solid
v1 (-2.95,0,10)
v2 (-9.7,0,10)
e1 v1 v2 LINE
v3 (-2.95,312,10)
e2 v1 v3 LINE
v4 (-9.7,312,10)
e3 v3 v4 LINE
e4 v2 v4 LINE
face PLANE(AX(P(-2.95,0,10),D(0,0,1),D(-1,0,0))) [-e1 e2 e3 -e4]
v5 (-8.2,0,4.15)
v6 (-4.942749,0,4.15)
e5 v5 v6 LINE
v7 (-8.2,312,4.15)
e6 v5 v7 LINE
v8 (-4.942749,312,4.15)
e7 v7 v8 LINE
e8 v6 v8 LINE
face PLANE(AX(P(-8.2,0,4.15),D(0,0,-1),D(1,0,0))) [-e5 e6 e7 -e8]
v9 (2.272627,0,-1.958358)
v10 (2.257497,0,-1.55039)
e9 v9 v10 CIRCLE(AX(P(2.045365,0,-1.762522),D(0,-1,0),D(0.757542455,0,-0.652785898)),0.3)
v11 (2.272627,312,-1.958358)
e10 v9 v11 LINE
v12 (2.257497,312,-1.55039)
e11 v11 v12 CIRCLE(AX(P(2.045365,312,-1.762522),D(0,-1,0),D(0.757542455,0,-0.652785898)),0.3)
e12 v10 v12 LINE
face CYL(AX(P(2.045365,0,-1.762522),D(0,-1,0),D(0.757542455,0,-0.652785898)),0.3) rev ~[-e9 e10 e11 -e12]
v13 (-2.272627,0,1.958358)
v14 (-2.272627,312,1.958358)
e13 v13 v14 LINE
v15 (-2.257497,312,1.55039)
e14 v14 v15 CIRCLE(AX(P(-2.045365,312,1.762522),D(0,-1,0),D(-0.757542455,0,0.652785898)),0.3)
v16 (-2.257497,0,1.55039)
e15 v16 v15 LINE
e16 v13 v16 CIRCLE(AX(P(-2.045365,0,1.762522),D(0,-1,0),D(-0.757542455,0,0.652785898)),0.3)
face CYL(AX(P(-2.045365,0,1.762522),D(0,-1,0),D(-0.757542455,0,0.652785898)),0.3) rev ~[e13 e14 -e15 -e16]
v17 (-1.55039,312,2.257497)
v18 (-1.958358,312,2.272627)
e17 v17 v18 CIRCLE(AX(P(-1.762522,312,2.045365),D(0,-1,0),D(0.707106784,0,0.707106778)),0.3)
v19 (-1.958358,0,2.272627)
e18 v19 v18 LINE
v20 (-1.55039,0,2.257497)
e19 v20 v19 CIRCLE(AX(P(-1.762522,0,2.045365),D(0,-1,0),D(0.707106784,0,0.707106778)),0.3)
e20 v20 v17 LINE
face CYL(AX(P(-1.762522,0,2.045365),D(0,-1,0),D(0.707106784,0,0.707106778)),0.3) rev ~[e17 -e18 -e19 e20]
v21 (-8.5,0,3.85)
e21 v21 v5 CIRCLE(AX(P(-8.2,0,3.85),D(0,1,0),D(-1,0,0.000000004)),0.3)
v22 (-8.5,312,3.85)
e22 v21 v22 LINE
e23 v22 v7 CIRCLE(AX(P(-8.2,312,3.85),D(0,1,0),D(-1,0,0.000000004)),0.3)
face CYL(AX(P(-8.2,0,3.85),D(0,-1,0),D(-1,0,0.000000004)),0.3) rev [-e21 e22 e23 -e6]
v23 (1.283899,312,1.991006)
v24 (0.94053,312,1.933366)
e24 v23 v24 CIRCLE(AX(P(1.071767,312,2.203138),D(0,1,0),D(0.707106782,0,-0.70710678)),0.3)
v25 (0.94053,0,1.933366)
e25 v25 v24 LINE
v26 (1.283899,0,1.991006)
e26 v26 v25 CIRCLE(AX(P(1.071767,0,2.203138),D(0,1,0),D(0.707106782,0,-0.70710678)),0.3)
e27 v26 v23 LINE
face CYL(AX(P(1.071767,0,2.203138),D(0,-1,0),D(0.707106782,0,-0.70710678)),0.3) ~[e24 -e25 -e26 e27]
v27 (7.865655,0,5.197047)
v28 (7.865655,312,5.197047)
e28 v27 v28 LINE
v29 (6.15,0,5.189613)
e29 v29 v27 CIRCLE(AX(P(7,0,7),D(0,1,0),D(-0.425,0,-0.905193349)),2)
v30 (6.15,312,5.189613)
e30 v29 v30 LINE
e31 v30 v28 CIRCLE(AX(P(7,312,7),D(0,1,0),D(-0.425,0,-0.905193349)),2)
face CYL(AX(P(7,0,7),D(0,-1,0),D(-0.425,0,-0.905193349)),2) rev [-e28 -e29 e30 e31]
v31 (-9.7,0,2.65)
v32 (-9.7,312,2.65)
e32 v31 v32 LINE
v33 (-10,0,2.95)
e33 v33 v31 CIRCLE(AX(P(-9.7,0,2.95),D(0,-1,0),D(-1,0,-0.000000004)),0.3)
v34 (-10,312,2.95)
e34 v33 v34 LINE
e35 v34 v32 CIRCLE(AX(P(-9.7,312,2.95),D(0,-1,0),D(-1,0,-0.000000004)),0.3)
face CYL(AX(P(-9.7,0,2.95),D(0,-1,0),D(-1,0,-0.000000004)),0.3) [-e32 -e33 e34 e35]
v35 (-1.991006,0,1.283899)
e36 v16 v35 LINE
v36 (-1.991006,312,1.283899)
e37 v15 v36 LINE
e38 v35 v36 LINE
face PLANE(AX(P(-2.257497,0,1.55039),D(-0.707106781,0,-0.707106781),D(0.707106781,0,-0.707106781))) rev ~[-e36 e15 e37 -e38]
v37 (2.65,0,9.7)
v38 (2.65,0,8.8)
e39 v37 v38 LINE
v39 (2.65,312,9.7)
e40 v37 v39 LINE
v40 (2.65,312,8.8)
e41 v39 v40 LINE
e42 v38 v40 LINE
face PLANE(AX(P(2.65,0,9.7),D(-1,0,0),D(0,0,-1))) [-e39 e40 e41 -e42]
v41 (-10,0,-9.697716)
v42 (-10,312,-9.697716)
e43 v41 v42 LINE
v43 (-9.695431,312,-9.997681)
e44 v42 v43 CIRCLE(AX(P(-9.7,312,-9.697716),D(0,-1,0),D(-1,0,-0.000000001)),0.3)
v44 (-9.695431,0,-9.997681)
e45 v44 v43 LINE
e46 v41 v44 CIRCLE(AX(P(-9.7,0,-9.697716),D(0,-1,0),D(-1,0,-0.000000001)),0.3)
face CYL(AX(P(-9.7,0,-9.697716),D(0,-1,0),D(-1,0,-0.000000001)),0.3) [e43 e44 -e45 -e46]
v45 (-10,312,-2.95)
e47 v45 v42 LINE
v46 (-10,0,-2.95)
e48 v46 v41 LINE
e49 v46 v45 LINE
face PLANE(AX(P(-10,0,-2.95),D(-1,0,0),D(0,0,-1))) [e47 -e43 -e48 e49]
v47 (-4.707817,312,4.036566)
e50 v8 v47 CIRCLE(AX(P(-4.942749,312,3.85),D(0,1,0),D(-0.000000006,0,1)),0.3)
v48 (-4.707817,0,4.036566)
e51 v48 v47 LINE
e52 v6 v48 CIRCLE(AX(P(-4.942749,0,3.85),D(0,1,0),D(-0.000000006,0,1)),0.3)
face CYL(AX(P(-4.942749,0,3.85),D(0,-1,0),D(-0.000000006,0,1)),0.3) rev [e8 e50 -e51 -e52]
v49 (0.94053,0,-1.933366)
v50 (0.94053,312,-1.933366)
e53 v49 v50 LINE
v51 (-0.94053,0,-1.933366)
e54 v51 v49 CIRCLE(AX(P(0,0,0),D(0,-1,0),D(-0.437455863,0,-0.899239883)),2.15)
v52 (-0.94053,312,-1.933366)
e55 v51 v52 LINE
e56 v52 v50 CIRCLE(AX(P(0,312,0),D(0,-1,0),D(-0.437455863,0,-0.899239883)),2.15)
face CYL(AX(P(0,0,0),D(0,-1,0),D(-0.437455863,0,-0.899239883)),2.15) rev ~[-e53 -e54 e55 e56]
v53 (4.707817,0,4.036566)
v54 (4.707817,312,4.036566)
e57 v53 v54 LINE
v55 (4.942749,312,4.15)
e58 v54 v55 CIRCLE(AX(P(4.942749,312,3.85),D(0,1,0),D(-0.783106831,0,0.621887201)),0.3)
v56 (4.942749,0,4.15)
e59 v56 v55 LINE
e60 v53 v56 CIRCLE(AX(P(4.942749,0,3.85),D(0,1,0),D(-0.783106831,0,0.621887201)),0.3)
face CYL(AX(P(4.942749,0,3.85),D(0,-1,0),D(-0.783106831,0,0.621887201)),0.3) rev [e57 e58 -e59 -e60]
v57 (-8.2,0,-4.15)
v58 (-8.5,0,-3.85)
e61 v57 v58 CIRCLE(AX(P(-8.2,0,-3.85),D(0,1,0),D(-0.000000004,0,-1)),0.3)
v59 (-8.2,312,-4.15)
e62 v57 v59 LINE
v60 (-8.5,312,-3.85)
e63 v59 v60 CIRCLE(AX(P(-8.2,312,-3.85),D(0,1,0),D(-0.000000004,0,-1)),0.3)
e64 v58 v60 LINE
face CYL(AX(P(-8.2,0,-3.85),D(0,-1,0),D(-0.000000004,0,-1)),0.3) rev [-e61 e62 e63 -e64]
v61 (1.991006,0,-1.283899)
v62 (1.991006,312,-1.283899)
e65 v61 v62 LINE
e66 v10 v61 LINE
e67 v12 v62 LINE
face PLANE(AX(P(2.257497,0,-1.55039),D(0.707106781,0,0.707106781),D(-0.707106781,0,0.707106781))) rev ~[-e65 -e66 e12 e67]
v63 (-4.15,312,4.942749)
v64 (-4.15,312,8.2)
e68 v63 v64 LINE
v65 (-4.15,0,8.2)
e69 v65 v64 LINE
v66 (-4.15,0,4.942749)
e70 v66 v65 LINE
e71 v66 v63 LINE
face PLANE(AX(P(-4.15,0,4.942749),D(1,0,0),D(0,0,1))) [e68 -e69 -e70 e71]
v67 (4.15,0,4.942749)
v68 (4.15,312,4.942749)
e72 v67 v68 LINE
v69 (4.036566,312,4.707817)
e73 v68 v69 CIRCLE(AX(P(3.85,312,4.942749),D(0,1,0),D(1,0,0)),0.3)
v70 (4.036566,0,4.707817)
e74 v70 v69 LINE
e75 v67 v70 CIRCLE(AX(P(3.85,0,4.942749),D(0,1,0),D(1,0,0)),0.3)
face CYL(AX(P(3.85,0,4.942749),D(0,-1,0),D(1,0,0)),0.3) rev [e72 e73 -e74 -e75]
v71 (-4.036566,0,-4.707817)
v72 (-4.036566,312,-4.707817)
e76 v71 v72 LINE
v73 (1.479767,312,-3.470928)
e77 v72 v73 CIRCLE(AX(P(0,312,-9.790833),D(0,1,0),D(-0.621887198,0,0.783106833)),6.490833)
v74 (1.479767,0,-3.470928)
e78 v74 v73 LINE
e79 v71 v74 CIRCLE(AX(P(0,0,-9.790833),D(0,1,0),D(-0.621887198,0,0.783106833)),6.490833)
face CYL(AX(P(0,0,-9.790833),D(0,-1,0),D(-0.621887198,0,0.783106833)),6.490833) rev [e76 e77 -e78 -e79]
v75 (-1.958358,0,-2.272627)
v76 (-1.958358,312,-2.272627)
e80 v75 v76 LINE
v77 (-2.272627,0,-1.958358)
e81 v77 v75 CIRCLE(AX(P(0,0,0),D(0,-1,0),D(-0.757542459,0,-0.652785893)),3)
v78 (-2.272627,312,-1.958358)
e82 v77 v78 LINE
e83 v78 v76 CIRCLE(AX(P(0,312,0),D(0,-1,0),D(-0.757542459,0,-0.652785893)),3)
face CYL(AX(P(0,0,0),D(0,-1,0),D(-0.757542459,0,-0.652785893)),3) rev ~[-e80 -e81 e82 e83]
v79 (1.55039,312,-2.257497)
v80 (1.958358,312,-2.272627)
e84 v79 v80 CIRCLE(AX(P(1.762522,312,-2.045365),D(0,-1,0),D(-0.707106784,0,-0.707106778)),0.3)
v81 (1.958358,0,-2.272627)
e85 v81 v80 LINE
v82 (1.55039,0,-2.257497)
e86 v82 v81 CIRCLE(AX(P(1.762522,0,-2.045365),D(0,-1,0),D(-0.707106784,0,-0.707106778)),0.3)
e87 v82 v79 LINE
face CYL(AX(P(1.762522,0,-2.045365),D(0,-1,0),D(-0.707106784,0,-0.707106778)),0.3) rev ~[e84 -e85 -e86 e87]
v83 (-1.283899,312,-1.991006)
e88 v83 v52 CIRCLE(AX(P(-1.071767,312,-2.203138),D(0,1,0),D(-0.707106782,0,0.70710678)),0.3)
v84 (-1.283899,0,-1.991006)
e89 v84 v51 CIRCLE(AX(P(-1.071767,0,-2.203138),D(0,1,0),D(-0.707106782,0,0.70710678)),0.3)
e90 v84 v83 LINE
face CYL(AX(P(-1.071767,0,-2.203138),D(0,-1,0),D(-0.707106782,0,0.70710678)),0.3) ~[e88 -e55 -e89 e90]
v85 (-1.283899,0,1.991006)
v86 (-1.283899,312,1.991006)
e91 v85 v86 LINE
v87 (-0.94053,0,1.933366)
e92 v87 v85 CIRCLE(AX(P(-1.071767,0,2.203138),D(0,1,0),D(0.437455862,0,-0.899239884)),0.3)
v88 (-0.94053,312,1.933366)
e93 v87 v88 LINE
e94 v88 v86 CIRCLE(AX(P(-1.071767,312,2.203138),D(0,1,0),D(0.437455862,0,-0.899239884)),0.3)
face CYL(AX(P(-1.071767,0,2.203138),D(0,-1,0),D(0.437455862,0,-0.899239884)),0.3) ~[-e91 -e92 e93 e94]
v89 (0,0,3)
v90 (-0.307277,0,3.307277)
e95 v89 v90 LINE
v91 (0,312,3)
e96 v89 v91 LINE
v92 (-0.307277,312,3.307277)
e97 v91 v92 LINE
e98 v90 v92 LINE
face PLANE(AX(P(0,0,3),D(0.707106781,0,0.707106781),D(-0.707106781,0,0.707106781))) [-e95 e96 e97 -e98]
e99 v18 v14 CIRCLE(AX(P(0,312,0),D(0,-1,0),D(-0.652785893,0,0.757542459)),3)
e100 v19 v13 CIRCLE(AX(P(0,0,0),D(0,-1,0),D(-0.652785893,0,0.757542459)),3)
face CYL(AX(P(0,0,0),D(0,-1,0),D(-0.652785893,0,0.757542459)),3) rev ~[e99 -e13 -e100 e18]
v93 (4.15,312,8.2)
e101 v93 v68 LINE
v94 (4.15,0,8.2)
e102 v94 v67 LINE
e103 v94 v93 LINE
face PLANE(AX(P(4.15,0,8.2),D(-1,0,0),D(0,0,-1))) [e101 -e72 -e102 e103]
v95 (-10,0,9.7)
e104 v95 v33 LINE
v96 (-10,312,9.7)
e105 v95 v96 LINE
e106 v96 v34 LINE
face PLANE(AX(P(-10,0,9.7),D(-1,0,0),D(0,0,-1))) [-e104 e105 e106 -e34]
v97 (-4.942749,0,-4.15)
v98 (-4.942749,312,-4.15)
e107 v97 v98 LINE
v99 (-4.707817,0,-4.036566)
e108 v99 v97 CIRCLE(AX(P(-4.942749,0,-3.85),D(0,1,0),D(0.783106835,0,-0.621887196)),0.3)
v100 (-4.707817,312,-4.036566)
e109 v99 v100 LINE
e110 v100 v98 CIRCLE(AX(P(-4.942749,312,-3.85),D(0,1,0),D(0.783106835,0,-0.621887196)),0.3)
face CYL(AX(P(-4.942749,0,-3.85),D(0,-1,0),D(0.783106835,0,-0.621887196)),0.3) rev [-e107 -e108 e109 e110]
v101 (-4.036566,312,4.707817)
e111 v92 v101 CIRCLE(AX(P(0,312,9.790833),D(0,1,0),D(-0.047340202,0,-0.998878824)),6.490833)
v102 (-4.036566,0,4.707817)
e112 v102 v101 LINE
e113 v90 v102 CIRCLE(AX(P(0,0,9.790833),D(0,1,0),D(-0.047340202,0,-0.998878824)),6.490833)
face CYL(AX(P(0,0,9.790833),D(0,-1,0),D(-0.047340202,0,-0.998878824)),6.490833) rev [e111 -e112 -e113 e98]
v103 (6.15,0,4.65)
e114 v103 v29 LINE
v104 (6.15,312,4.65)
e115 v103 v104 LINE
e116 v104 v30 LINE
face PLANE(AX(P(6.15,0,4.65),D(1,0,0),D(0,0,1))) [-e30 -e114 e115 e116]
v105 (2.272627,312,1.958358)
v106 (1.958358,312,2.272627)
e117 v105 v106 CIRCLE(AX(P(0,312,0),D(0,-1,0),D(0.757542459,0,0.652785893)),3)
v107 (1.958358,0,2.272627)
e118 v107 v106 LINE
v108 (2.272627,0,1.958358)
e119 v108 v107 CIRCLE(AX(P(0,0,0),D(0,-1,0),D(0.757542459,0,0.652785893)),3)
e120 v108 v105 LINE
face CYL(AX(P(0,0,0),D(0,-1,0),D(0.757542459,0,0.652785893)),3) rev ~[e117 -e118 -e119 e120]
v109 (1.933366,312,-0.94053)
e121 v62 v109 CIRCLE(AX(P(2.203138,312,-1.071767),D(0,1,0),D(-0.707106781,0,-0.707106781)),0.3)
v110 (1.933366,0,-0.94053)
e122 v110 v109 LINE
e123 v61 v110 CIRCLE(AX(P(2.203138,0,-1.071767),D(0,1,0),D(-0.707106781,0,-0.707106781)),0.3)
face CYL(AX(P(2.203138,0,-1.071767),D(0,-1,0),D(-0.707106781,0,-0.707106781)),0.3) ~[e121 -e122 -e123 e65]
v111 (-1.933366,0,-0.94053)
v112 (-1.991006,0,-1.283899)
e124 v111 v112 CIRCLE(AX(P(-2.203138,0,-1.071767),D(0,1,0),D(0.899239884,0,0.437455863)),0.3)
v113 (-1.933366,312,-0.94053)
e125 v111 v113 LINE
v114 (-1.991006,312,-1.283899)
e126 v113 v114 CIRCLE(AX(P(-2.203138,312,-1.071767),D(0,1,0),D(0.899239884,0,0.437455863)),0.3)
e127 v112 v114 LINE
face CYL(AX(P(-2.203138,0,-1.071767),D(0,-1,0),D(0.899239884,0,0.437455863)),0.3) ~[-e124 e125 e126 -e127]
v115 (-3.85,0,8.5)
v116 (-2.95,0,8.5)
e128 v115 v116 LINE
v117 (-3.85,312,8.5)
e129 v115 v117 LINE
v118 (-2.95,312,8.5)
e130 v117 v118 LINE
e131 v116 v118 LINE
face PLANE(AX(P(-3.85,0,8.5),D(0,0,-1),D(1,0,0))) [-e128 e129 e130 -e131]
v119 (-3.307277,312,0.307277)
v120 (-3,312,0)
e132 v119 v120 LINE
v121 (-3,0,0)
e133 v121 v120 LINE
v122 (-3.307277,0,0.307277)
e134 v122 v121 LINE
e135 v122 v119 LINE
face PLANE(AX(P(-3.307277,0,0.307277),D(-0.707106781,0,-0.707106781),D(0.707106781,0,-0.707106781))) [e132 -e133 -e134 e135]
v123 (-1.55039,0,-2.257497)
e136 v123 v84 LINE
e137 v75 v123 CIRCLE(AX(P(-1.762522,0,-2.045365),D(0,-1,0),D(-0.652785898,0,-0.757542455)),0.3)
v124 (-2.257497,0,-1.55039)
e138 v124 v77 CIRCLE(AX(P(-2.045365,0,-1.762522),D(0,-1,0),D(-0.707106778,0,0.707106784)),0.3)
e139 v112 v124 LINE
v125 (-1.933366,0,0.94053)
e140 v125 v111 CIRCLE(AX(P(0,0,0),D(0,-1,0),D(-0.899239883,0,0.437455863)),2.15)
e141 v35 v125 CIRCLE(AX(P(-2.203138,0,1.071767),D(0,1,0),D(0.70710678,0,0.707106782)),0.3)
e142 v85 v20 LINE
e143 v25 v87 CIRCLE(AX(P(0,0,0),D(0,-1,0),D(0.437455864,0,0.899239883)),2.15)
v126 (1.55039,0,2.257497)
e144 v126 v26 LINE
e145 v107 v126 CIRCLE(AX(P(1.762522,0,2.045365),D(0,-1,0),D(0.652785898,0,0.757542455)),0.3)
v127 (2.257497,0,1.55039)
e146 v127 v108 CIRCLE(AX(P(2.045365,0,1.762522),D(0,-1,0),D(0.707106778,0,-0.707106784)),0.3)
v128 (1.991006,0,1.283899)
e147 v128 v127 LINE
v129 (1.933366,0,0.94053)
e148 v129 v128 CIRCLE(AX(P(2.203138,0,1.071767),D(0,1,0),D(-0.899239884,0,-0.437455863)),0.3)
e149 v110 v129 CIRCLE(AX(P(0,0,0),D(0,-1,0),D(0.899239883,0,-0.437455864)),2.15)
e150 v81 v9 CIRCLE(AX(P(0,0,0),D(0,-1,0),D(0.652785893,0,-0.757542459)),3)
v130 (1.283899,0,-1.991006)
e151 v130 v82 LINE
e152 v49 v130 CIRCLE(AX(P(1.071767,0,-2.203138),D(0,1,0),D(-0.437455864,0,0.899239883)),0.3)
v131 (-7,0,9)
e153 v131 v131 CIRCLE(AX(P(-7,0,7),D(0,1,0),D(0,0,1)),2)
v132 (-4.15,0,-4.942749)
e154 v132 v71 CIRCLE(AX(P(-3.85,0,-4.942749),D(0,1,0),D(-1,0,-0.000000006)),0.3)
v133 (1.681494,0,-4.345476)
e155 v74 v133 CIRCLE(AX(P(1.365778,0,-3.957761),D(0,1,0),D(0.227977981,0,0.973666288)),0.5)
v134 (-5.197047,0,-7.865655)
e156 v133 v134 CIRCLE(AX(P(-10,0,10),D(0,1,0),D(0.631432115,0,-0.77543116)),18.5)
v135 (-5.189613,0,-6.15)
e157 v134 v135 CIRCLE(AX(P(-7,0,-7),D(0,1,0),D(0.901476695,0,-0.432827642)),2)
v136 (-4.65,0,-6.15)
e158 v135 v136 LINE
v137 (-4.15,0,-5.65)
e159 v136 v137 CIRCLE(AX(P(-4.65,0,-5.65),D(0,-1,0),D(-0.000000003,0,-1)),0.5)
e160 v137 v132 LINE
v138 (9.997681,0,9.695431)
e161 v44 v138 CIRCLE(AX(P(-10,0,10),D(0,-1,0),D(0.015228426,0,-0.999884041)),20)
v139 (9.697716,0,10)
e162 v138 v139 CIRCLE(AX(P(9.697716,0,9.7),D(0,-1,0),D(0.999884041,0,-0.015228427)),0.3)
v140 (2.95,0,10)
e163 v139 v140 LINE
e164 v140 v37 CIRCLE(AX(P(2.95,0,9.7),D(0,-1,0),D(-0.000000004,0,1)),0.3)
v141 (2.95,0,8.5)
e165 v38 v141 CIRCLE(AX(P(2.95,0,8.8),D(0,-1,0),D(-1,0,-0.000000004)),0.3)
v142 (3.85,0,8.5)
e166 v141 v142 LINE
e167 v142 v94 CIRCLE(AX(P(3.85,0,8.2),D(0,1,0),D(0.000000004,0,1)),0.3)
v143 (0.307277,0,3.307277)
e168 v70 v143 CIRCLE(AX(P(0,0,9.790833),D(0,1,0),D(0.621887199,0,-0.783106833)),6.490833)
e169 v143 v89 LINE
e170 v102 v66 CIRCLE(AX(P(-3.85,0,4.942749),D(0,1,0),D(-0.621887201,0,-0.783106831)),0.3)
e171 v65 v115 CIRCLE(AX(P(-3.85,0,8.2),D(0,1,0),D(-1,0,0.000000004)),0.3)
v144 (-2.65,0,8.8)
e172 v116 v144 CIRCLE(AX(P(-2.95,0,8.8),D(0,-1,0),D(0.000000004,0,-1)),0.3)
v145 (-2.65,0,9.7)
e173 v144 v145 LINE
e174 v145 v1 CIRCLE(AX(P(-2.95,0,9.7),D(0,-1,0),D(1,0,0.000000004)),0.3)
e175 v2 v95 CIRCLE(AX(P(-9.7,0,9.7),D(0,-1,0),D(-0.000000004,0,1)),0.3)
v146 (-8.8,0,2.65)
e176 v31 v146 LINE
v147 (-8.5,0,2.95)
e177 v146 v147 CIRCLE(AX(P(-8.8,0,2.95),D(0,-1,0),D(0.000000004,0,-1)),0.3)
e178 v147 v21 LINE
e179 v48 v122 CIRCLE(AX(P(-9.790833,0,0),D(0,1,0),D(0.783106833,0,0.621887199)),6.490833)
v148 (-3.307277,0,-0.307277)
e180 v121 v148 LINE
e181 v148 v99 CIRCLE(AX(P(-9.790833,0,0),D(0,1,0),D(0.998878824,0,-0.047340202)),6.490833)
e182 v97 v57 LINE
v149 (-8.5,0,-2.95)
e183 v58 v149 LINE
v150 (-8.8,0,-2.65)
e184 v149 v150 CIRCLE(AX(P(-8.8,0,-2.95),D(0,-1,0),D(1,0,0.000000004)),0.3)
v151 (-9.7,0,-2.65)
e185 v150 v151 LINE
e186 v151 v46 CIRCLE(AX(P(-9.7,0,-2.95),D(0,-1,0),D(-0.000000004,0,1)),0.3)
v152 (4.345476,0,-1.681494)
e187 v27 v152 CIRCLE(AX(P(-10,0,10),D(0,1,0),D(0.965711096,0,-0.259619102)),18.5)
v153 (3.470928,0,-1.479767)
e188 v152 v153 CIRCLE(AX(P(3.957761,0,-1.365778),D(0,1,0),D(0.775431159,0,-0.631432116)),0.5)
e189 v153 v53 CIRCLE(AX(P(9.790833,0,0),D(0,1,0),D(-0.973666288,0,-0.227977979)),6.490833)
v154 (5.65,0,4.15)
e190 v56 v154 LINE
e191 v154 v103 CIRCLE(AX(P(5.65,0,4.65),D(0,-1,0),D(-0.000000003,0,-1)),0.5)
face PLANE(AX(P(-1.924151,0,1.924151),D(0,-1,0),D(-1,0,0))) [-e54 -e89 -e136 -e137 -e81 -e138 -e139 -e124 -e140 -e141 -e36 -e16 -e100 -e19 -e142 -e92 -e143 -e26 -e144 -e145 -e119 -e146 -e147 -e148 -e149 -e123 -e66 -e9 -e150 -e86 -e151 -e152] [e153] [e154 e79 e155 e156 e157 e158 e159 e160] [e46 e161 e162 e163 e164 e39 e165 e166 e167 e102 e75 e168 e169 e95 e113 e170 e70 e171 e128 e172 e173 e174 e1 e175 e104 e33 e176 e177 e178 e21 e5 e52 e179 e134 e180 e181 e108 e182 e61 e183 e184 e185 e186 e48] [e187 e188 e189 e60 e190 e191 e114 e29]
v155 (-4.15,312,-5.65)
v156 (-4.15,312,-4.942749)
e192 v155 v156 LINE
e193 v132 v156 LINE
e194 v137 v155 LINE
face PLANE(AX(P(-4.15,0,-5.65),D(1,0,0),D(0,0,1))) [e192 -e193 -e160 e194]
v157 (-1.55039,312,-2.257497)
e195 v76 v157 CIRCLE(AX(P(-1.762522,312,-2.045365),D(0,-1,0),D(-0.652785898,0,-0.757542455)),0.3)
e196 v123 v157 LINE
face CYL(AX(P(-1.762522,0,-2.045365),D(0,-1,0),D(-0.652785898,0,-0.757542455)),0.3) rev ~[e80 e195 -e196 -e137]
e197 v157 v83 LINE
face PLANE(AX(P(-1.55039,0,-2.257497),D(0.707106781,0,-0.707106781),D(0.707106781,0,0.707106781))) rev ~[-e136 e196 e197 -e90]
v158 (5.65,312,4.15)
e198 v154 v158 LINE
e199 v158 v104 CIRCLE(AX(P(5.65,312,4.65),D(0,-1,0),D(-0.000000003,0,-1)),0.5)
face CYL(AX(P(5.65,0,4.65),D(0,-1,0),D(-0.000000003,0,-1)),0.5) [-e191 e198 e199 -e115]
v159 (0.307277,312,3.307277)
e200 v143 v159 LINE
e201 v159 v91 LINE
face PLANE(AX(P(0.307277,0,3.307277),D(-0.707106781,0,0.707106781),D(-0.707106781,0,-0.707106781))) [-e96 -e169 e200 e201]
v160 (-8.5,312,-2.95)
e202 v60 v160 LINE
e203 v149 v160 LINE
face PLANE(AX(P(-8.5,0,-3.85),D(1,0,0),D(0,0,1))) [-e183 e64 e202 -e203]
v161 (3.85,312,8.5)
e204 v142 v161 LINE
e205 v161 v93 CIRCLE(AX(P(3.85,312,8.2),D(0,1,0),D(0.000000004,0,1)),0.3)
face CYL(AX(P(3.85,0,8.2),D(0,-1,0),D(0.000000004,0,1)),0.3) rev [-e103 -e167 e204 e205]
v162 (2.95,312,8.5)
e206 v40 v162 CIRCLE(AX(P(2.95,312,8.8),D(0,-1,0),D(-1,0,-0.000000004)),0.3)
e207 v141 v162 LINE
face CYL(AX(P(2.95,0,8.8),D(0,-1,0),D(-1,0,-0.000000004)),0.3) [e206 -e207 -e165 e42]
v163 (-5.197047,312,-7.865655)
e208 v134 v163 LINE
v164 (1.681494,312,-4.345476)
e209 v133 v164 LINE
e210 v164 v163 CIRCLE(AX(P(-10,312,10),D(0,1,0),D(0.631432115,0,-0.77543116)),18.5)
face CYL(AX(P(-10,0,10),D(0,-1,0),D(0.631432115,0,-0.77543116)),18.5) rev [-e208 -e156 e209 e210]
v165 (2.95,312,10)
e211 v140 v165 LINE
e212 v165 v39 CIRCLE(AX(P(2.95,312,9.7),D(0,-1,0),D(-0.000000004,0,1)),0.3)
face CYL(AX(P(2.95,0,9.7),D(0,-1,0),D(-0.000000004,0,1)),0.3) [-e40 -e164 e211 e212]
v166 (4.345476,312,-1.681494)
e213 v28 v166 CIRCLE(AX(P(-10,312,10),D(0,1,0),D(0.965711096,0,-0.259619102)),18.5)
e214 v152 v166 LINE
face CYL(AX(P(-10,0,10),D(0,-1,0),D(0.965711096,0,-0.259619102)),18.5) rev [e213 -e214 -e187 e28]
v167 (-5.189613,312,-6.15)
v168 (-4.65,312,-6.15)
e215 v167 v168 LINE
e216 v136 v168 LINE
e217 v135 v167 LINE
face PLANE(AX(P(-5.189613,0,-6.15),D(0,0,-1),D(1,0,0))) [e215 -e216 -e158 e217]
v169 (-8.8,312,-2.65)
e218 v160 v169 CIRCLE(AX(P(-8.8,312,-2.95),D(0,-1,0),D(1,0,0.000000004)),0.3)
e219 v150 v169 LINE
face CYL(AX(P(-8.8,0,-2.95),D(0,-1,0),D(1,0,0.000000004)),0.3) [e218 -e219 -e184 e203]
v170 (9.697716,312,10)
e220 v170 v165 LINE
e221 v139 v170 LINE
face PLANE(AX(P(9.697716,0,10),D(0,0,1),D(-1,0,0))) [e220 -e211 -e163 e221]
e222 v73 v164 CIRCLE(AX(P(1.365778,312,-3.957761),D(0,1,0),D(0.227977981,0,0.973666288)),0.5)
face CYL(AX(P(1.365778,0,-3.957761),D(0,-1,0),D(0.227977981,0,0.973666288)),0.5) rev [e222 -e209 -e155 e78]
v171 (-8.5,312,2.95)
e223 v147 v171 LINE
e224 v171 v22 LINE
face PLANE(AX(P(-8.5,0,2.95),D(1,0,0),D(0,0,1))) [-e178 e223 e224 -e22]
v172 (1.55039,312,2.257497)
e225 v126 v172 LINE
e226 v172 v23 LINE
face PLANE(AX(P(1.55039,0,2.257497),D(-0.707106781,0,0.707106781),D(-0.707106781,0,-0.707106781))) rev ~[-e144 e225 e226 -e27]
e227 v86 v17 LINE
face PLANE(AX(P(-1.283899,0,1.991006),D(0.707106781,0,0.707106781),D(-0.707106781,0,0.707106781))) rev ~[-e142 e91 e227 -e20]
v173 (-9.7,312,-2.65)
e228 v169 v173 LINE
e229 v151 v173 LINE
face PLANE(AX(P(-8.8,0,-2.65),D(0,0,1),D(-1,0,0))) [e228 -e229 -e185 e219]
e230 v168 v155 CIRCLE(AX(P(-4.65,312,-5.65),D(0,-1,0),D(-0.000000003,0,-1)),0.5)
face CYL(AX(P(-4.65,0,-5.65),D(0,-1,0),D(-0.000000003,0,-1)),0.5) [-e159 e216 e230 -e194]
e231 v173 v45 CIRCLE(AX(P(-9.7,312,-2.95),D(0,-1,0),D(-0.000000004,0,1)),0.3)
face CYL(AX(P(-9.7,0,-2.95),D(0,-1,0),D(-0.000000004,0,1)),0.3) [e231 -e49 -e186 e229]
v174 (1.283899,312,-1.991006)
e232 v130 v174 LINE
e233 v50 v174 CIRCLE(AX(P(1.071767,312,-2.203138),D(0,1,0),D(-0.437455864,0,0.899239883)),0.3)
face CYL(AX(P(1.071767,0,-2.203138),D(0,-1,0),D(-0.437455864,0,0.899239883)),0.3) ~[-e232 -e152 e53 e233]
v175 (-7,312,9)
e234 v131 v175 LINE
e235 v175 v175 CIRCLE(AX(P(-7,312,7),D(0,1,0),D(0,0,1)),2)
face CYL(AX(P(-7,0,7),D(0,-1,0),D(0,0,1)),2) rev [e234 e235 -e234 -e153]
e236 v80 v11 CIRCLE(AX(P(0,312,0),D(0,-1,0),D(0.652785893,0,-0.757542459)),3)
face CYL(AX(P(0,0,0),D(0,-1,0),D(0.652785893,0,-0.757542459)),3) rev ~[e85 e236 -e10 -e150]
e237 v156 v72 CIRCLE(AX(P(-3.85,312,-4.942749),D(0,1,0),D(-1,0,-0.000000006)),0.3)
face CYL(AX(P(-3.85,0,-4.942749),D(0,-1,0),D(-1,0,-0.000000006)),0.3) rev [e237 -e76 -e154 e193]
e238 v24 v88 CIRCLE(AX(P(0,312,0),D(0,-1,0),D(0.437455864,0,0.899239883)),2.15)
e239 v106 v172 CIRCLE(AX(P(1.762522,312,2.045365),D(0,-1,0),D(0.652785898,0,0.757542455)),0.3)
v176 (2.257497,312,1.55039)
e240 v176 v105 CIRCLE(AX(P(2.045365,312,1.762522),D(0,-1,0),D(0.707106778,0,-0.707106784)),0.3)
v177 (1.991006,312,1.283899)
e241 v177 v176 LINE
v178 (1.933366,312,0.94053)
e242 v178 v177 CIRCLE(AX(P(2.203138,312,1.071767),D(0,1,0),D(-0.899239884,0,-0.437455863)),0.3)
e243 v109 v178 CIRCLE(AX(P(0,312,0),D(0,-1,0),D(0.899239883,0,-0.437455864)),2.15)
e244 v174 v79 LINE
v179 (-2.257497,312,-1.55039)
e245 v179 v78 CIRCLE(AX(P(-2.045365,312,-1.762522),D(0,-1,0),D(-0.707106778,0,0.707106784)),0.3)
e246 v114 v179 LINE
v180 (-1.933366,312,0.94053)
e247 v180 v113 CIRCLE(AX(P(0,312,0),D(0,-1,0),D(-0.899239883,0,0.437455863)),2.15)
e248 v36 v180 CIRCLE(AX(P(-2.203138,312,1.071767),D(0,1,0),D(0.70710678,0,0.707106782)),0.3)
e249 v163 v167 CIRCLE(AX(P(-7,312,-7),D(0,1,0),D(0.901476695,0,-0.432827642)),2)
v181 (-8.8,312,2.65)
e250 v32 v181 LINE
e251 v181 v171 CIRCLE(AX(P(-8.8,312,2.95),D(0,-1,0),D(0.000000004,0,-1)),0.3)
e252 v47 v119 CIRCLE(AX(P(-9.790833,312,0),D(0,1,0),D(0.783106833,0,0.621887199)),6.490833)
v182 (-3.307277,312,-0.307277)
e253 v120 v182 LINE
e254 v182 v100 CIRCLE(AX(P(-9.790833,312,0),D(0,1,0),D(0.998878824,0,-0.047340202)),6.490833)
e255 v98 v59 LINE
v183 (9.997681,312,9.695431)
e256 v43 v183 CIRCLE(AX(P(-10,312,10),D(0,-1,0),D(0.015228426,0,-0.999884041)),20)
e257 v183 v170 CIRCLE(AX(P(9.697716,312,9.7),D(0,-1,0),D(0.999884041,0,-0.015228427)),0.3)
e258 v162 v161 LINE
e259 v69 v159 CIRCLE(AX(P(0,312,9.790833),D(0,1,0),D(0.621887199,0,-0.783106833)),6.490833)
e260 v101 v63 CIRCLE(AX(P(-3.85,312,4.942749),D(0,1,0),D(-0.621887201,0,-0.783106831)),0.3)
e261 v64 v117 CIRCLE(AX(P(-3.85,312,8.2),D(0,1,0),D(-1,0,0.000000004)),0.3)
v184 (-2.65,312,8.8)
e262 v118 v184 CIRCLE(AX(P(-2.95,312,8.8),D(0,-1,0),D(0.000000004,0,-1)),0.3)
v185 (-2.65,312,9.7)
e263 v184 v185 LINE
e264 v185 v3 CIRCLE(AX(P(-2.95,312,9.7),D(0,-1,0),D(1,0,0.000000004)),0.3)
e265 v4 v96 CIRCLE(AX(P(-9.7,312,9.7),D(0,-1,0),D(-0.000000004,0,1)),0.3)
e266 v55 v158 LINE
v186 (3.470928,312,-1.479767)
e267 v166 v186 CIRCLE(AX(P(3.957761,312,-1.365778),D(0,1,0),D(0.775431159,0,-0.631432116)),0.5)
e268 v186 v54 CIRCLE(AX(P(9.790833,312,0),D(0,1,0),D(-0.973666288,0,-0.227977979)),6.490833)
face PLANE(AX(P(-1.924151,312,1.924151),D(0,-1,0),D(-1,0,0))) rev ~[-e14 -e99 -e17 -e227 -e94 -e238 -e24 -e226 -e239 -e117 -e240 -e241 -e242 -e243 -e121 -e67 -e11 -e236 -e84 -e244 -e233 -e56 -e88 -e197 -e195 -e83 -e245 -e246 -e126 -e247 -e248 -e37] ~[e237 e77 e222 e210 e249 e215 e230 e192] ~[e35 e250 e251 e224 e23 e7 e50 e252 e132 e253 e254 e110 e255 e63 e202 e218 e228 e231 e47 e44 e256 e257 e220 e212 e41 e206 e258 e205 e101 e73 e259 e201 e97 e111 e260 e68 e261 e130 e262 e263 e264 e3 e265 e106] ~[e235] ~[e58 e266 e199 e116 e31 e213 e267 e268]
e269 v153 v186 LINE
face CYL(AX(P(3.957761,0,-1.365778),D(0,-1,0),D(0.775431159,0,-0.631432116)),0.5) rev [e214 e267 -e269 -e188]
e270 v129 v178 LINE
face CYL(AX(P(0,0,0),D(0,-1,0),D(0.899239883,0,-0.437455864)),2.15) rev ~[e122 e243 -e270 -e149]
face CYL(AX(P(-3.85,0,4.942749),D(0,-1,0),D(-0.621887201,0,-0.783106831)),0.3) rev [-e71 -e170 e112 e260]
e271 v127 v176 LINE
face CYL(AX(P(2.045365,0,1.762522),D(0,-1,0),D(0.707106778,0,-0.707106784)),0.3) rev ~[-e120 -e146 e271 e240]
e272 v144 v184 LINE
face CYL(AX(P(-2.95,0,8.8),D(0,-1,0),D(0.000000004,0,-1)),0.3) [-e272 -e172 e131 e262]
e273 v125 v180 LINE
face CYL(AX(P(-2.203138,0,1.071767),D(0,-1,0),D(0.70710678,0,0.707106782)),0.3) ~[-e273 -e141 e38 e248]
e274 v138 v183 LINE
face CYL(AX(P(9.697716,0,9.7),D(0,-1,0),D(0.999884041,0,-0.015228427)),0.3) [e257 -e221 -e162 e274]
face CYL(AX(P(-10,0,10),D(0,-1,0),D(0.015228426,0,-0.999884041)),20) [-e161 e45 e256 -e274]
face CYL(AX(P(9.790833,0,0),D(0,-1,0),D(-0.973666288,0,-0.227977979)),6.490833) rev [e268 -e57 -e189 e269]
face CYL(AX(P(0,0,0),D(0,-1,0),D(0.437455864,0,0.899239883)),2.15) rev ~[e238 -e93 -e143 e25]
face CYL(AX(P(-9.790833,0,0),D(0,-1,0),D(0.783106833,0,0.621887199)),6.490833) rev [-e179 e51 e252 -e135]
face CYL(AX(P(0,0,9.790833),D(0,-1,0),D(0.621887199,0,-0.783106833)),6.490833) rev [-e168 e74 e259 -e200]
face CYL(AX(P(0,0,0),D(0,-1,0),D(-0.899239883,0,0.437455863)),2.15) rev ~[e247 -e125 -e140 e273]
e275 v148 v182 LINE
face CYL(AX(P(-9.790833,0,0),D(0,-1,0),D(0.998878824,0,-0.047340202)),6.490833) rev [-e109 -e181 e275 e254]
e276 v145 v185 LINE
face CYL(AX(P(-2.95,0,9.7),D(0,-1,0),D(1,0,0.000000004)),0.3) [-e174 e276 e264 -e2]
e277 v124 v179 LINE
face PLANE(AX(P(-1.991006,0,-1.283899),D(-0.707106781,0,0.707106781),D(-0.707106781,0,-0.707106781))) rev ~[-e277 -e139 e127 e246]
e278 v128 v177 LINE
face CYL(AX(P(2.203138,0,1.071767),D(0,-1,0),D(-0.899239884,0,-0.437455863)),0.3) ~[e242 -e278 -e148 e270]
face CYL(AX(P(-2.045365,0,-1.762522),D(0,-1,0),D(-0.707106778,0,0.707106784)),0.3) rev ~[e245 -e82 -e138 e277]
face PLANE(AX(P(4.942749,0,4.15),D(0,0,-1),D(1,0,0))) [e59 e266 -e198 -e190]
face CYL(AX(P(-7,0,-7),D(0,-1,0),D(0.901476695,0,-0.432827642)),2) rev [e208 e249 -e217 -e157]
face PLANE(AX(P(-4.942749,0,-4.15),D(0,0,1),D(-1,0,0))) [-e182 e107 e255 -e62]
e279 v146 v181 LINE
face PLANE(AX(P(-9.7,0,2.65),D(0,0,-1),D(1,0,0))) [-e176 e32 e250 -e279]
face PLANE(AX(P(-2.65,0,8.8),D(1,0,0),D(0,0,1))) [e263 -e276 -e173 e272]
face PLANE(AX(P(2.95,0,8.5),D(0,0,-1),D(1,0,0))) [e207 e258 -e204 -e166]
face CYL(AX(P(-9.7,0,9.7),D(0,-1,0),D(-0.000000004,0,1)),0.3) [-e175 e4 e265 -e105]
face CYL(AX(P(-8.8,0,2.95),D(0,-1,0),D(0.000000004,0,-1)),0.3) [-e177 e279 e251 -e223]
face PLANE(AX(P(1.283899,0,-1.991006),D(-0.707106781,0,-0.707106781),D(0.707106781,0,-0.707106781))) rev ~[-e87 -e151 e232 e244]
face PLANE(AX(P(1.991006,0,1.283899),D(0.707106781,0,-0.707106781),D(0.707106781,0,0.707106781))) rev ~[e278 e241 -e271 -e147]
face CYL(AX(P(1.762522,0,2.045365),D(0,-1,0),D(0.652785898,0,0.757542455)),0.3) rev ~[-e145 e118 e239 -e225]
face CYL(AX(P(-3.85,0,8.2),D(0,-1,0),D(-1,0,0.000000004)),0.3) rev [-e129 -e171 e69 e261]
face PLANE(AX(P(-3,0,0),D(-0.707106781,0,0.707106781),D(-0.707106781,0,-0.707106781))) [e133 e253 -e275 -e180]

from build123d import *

# Parameters (mm, degrees)
SKETCH_1_R      = 2
EXTRUDE_1_DEPTH = 312


with BuildPart() as part:
    # 스케치1 → 보스-돌출1 (new body)
    with BuildSketch(Plane(origin=(0, 0, 0), x_dir=(1, 0, 0), z_dir=(0, 1, 0))):
        with BuildLine():
            Line((-10, 9.697715604), (-10, 2.95))
            ThreePointArc((-10, 2.95), (-9.912132034, 2.737867966), (-9.7, 2.65))
            Line((-9.7, 2.65), (-8.8, 2.65))
            ThreePointArc((-8.8, 2.65), (-8.587867966, 2.737867966), (-8.5, 2.95))
            Line((-8.5, 2.95), (-8.5, 3.85))
            ThreePointArc((-8.5, 3.85), (-8.412132034, 4.062132034), (-8.2, 4.15))
            Line((-8.2, 4.15), (-4.942749448, 4.15))
            ThreePointArc((-4.942749448, 4.15), (-4.812307598, 4.120157221), (-4.707817398, 4.03656616))
            ThreePointArc((-4.707817398, 4.03656616), (-3.714379176, 2.282021525), (-3.307277366, 0.307277366))
            Line((-3.307277366, 0.307277366), (-3, 0))
            Line((-3, 0), (-3.307277366, -0.307277366))
            ThreePointArc((-3.307277366, -0.307277366), (-3.714379176, -2.282021525), (-4.707817398, -4.03656616))
            ThreePointArc((-4.707817398, -4.03656616), (-4.812307598, -4.120157221), (-4.942749448, -4.15))
            Line((-4.942749448, -4.15), (-8.2, -4.15))
            ThreePointArc((-8.2, -4.15), (-8.412132034, -4.062132034), (-8.5, -3.85))
            Line((-8.5, -3.85), (-8.5, -2.95))
            ThreePointArc((-8.5, -2.95), (-8.587867966, -2.737867966), (-8.8, -2.65))
            Line((-8.8, -2.65), (-9.7, -2.65))
            ThreePointArc((-9.7, -2.65), (-9.912132034, -2.737867966), (-10, -2.95))
            Line((-10, -2.95), (-10, -9.7))
            ThreePointArc((-10, -9.7), (-9.912132034, -9.912132034), (-9.7, -10))
            Line((-9.7, -10), (-2.95, -10))
            ThreePointArc((-2.95, -10), (-2.737867966, -9.912132034), (-2.65, -9.7))
            Line((-2.65, -9.7), (-2.65, -8.8))
            ThreePointArc((-2.65, -8.8), (-2.737867966, -8.587867966), (-2.95, -8.5))
            Line((-2.95, -8.5), (-3.85, -8.5))
            ThreePointArc((-3.85, -8.5), (-4.062132034, -8.412132034), (-4.15, -8.2))
            Line((-4.15, -8.2), (-4.15, -4.942749448))
            ThreePointArc((-4.15, -4.942749448), (-4.120157221, -4.812307599), (-4.03656616, -4.707817398))
            ThreePointArc((-4.03656616, -4.707817398), (-2.282021525, -3.714379176), (-0.307277366, -3.307277366))
            Line((-0.307277366, -3.307277366), (0, -3))
            Line((0, -3), (0.307277366, -3.307277366))
            ThreePointArc((0.307277366, -3.307277366), (2.282021525, -3.714379176), (4.03656616, -4.707817398))
            ThreePointArc((4.03656616, -4.707817398), (4.120157221, -4.812307599), (4.15, -4.942749448))
            Line((4.15, -4.942749448), (4.15, -8.2))
            ThreePointArc((4.15, -8.2), (4.062132034, -8.412132034), (3.85, -8.5))
            Line((3.85, -8.5), (2.95, -8.5))
            ThreePointArc((2.95, -8.5), (2.737867966, -8.587867966), (2.65, -8.8))
            Line((2.65, -8.8), (2.65, -9.7))
            ThreePointArc((2.65, -9.7), (2.737867966, -9.912132034), (2.95, -10))
            Line((2.95, -10), (9.697715604, -10))
            ThreePointArc((9.697715604, -10), (9.911456754, -9.910510619), (9.997680816, -9.695431472))
            ThreePointArc((9.997680816, -9.695431472), (4.142135624, 4.142135624), (-9.695431472, 9.997680816))
            ThreePointArc((-9.695431472, 9.997680816), (-9.910510619, 9.911456754), (-10, 9.697715604))
        make_face()
        with Locations((-7, -7)):
            Circle(SKETCH_1_R, mode=Mode.SUBTRACT)
        with BuildLine():
            Line((6.15, -5.189613301), (6.15, -4.65))
            ThreePointArc((6.15, -4.65), (6.003553391, -4.296446609), (5.65, -4.15))
            Line((5.65, -4.15), (4.942749448, -4.15))
            ThreePointArc((4.942749448, -4.15), (4.812307599, -4.120157221), (4.707817398, -4.03656616))
            ThreePointArc((4.707817398, -4.03656616), (3.457261044, -1.420133589), (3.470927733, 1.479767066))
            ThreePointArc((3.470927733, 1.479767066), (3.845379716, 1.852984885), (4.345476458, 1.681494134))
            ThreePointArc((4.345476458, 1.681494134), (6.468692501, -1.571941665), (7.865655284, -5.197046609))
            ThreePointArc((7.865655284, -5.197046609), (6.991334811, -8.999981229), (6.15, -5.189613301))
        make_face(mode=Mode.SUBTRACT)
        with BuildLine():
            Line((-4.65, 6.15), (-5.189613301, 6.15))
            ThreePointArc((-5.189613301, 6.15), (-8.999981229, 6.991334811), (-5.197046609, 7.865655284))
            ThreePointArc((-5.197046609, 7.865655284), (-1.571941665, 6.468692501), (1.681494134, 4.345476458))
            ThreePointArc((1.681494134, 4.345476458), (1.852984885, 3.845379716), (1.479767066, 3.470927733))
            ThreePointArc((1.479767066, 3.470927733), (-1.420133589, 3.457261044), (-4.03656616, 4.707817398))
            ThreePointArc((-4.03656616, 4.707817398), (-4.120157221, 4.812307598), (-4.15, 4.942749448))
            Line((-4.15, 4.942749448), (-4.15, 5.65))
            ThreePointArc((-4.15, 5.65), (-4.296446609, 6.003553391), (-4.65, 6.15))
        make_face(mode=Mode.SUBTRACT)
        with BuildLine():
            ThreePointArc((-2.27262737, -1.958357689), (-2.345158518, -1.75140317), (-2.257496667, -1.550389886))
            Line((-2.257496667, -1.550389886), (-1.99100568, -1.283898899))
            ThreePointArc((-1.99100568, -1.283898899), (-1.907277277, -1.121431759), (-1.933365749, -0.940530106))
            ThreePointArc((-1.933365749, -0.940530106), (-2.15, 0), (-1.933365749, 0.940530106))
            ThreePointArc((-1.933365749, 0.940530106), (-1.907277277, 1.121431759), (-1.99100568, 1.283898899))
            Line((-1.99100568, 1.283898899), (-2.257496667, 1.550389886))
            ThreePointArc((-2.257496667, 1.550389886), (-2.345158518, 1.75140317), (-2.27262737, 1.958357689))
            ThreePointArc((-2.27262737, 1.958357689), (-2.121320344, 2.121320344), (-1.958357689, 2.27262737))
            ThreePointArc((-1.958357689, 2.27262737), (-1.75140317, 2.345158518), (-1.550389886, 2.257496667))
            Line((-1.550389886, 2.257496667), (-1.283898899, 1.99100568))
            ThreePointArc((-1.283898899, 1.99100568), (-1.121431759, 1.907277277), (-0.940530106, 1.933365749))
            ThreePointArc((-0.940530106, 1.933365749), (0, 2.15), (0.940530106, 1.933365749))
            ThreePointArc((0.940530106, 1.933365749), (1.12143176, 1.907277277), (1.283898899, 1.99100568))
            Line((1.283898899, 1.99100568), (1.550389886, 2.257496667))
            ThreePointArc((1.550389886, 2.257496667), (1.75140317, 2.345158518), (1.958357689, 2.27262737))
            ThreePointArc((1.958357689, 2.27262737), (2.121320344, 2.121320344), (2.27262737, 1.958357689))
            ThreePointArc((2.27262737, 1.958357689), (2.345158518, 1.75140317), (2.257496667, 1.550389886))
            Line((2.257496667, 1.550389886), (1.99100568, 1.283898899))
            ThreePointArc((1.99100568, 1.283898899), (1.907277277, 1.121431759), (1.933365749, 0.940530105))
            ThreePointArc((1.933365749, 0.940530105), (2.15, 0), (1.933365749, -0.940530106))
            ThreePointArc((1.933365749, -0.940530106), (1.907277277, -1.121431759), (1.99100568, -1.283898899))
            Line((1.99100568, -1.283898899), (2.257496667, -1.550389886))
            ThreePointArc((2.257496667, -1.550389886), (2.345158518, -1.75140317), (2.27262737, -1.958357689))
            ThreePointArc((2.27262737, -1.958357689), (2.121320344, -2.121320344), (1.958357689, -2.27262737))
            ThreePointArc((1.958357689, -2.27262737), (1.75140317, -2.345158518), (1.550389886, -2.257496667))
            Line((1.550389886, -2.257496667), (1.283898899, -1.99100568))
            ThreePointArc((1.283898899, -1.99100568), (1.121431759, -1.907277277), (0.940530106, -1.933365749))
            ThreePointArc((0.940530106, -1.933365749), (0, -2.15), (-0.940530105, -1.933365749))
            ThreePointArc((-0.940530105, -1.933365749), (-1.121431759, -1.907277277), (-1.283898899, -1.99100568))
            Line((-1.283898899, -1.99100568), (-1.550389886, -2.257496667))
            ThreePointArc((-1.550389886, -2.257496667), (-1.75140317, -2.345158518), (-1.958357689, -2.27262737))
            ThreePointArc((-1.958357689, -2.27262737), (-2.121320344, -2.121320344), (-2.27262737, -1.958357689))
        make_face(mode=Mode.SUBTRACT)
    extrude(amount=EXTRUDE_1_DEPTH)


solid = part.part
